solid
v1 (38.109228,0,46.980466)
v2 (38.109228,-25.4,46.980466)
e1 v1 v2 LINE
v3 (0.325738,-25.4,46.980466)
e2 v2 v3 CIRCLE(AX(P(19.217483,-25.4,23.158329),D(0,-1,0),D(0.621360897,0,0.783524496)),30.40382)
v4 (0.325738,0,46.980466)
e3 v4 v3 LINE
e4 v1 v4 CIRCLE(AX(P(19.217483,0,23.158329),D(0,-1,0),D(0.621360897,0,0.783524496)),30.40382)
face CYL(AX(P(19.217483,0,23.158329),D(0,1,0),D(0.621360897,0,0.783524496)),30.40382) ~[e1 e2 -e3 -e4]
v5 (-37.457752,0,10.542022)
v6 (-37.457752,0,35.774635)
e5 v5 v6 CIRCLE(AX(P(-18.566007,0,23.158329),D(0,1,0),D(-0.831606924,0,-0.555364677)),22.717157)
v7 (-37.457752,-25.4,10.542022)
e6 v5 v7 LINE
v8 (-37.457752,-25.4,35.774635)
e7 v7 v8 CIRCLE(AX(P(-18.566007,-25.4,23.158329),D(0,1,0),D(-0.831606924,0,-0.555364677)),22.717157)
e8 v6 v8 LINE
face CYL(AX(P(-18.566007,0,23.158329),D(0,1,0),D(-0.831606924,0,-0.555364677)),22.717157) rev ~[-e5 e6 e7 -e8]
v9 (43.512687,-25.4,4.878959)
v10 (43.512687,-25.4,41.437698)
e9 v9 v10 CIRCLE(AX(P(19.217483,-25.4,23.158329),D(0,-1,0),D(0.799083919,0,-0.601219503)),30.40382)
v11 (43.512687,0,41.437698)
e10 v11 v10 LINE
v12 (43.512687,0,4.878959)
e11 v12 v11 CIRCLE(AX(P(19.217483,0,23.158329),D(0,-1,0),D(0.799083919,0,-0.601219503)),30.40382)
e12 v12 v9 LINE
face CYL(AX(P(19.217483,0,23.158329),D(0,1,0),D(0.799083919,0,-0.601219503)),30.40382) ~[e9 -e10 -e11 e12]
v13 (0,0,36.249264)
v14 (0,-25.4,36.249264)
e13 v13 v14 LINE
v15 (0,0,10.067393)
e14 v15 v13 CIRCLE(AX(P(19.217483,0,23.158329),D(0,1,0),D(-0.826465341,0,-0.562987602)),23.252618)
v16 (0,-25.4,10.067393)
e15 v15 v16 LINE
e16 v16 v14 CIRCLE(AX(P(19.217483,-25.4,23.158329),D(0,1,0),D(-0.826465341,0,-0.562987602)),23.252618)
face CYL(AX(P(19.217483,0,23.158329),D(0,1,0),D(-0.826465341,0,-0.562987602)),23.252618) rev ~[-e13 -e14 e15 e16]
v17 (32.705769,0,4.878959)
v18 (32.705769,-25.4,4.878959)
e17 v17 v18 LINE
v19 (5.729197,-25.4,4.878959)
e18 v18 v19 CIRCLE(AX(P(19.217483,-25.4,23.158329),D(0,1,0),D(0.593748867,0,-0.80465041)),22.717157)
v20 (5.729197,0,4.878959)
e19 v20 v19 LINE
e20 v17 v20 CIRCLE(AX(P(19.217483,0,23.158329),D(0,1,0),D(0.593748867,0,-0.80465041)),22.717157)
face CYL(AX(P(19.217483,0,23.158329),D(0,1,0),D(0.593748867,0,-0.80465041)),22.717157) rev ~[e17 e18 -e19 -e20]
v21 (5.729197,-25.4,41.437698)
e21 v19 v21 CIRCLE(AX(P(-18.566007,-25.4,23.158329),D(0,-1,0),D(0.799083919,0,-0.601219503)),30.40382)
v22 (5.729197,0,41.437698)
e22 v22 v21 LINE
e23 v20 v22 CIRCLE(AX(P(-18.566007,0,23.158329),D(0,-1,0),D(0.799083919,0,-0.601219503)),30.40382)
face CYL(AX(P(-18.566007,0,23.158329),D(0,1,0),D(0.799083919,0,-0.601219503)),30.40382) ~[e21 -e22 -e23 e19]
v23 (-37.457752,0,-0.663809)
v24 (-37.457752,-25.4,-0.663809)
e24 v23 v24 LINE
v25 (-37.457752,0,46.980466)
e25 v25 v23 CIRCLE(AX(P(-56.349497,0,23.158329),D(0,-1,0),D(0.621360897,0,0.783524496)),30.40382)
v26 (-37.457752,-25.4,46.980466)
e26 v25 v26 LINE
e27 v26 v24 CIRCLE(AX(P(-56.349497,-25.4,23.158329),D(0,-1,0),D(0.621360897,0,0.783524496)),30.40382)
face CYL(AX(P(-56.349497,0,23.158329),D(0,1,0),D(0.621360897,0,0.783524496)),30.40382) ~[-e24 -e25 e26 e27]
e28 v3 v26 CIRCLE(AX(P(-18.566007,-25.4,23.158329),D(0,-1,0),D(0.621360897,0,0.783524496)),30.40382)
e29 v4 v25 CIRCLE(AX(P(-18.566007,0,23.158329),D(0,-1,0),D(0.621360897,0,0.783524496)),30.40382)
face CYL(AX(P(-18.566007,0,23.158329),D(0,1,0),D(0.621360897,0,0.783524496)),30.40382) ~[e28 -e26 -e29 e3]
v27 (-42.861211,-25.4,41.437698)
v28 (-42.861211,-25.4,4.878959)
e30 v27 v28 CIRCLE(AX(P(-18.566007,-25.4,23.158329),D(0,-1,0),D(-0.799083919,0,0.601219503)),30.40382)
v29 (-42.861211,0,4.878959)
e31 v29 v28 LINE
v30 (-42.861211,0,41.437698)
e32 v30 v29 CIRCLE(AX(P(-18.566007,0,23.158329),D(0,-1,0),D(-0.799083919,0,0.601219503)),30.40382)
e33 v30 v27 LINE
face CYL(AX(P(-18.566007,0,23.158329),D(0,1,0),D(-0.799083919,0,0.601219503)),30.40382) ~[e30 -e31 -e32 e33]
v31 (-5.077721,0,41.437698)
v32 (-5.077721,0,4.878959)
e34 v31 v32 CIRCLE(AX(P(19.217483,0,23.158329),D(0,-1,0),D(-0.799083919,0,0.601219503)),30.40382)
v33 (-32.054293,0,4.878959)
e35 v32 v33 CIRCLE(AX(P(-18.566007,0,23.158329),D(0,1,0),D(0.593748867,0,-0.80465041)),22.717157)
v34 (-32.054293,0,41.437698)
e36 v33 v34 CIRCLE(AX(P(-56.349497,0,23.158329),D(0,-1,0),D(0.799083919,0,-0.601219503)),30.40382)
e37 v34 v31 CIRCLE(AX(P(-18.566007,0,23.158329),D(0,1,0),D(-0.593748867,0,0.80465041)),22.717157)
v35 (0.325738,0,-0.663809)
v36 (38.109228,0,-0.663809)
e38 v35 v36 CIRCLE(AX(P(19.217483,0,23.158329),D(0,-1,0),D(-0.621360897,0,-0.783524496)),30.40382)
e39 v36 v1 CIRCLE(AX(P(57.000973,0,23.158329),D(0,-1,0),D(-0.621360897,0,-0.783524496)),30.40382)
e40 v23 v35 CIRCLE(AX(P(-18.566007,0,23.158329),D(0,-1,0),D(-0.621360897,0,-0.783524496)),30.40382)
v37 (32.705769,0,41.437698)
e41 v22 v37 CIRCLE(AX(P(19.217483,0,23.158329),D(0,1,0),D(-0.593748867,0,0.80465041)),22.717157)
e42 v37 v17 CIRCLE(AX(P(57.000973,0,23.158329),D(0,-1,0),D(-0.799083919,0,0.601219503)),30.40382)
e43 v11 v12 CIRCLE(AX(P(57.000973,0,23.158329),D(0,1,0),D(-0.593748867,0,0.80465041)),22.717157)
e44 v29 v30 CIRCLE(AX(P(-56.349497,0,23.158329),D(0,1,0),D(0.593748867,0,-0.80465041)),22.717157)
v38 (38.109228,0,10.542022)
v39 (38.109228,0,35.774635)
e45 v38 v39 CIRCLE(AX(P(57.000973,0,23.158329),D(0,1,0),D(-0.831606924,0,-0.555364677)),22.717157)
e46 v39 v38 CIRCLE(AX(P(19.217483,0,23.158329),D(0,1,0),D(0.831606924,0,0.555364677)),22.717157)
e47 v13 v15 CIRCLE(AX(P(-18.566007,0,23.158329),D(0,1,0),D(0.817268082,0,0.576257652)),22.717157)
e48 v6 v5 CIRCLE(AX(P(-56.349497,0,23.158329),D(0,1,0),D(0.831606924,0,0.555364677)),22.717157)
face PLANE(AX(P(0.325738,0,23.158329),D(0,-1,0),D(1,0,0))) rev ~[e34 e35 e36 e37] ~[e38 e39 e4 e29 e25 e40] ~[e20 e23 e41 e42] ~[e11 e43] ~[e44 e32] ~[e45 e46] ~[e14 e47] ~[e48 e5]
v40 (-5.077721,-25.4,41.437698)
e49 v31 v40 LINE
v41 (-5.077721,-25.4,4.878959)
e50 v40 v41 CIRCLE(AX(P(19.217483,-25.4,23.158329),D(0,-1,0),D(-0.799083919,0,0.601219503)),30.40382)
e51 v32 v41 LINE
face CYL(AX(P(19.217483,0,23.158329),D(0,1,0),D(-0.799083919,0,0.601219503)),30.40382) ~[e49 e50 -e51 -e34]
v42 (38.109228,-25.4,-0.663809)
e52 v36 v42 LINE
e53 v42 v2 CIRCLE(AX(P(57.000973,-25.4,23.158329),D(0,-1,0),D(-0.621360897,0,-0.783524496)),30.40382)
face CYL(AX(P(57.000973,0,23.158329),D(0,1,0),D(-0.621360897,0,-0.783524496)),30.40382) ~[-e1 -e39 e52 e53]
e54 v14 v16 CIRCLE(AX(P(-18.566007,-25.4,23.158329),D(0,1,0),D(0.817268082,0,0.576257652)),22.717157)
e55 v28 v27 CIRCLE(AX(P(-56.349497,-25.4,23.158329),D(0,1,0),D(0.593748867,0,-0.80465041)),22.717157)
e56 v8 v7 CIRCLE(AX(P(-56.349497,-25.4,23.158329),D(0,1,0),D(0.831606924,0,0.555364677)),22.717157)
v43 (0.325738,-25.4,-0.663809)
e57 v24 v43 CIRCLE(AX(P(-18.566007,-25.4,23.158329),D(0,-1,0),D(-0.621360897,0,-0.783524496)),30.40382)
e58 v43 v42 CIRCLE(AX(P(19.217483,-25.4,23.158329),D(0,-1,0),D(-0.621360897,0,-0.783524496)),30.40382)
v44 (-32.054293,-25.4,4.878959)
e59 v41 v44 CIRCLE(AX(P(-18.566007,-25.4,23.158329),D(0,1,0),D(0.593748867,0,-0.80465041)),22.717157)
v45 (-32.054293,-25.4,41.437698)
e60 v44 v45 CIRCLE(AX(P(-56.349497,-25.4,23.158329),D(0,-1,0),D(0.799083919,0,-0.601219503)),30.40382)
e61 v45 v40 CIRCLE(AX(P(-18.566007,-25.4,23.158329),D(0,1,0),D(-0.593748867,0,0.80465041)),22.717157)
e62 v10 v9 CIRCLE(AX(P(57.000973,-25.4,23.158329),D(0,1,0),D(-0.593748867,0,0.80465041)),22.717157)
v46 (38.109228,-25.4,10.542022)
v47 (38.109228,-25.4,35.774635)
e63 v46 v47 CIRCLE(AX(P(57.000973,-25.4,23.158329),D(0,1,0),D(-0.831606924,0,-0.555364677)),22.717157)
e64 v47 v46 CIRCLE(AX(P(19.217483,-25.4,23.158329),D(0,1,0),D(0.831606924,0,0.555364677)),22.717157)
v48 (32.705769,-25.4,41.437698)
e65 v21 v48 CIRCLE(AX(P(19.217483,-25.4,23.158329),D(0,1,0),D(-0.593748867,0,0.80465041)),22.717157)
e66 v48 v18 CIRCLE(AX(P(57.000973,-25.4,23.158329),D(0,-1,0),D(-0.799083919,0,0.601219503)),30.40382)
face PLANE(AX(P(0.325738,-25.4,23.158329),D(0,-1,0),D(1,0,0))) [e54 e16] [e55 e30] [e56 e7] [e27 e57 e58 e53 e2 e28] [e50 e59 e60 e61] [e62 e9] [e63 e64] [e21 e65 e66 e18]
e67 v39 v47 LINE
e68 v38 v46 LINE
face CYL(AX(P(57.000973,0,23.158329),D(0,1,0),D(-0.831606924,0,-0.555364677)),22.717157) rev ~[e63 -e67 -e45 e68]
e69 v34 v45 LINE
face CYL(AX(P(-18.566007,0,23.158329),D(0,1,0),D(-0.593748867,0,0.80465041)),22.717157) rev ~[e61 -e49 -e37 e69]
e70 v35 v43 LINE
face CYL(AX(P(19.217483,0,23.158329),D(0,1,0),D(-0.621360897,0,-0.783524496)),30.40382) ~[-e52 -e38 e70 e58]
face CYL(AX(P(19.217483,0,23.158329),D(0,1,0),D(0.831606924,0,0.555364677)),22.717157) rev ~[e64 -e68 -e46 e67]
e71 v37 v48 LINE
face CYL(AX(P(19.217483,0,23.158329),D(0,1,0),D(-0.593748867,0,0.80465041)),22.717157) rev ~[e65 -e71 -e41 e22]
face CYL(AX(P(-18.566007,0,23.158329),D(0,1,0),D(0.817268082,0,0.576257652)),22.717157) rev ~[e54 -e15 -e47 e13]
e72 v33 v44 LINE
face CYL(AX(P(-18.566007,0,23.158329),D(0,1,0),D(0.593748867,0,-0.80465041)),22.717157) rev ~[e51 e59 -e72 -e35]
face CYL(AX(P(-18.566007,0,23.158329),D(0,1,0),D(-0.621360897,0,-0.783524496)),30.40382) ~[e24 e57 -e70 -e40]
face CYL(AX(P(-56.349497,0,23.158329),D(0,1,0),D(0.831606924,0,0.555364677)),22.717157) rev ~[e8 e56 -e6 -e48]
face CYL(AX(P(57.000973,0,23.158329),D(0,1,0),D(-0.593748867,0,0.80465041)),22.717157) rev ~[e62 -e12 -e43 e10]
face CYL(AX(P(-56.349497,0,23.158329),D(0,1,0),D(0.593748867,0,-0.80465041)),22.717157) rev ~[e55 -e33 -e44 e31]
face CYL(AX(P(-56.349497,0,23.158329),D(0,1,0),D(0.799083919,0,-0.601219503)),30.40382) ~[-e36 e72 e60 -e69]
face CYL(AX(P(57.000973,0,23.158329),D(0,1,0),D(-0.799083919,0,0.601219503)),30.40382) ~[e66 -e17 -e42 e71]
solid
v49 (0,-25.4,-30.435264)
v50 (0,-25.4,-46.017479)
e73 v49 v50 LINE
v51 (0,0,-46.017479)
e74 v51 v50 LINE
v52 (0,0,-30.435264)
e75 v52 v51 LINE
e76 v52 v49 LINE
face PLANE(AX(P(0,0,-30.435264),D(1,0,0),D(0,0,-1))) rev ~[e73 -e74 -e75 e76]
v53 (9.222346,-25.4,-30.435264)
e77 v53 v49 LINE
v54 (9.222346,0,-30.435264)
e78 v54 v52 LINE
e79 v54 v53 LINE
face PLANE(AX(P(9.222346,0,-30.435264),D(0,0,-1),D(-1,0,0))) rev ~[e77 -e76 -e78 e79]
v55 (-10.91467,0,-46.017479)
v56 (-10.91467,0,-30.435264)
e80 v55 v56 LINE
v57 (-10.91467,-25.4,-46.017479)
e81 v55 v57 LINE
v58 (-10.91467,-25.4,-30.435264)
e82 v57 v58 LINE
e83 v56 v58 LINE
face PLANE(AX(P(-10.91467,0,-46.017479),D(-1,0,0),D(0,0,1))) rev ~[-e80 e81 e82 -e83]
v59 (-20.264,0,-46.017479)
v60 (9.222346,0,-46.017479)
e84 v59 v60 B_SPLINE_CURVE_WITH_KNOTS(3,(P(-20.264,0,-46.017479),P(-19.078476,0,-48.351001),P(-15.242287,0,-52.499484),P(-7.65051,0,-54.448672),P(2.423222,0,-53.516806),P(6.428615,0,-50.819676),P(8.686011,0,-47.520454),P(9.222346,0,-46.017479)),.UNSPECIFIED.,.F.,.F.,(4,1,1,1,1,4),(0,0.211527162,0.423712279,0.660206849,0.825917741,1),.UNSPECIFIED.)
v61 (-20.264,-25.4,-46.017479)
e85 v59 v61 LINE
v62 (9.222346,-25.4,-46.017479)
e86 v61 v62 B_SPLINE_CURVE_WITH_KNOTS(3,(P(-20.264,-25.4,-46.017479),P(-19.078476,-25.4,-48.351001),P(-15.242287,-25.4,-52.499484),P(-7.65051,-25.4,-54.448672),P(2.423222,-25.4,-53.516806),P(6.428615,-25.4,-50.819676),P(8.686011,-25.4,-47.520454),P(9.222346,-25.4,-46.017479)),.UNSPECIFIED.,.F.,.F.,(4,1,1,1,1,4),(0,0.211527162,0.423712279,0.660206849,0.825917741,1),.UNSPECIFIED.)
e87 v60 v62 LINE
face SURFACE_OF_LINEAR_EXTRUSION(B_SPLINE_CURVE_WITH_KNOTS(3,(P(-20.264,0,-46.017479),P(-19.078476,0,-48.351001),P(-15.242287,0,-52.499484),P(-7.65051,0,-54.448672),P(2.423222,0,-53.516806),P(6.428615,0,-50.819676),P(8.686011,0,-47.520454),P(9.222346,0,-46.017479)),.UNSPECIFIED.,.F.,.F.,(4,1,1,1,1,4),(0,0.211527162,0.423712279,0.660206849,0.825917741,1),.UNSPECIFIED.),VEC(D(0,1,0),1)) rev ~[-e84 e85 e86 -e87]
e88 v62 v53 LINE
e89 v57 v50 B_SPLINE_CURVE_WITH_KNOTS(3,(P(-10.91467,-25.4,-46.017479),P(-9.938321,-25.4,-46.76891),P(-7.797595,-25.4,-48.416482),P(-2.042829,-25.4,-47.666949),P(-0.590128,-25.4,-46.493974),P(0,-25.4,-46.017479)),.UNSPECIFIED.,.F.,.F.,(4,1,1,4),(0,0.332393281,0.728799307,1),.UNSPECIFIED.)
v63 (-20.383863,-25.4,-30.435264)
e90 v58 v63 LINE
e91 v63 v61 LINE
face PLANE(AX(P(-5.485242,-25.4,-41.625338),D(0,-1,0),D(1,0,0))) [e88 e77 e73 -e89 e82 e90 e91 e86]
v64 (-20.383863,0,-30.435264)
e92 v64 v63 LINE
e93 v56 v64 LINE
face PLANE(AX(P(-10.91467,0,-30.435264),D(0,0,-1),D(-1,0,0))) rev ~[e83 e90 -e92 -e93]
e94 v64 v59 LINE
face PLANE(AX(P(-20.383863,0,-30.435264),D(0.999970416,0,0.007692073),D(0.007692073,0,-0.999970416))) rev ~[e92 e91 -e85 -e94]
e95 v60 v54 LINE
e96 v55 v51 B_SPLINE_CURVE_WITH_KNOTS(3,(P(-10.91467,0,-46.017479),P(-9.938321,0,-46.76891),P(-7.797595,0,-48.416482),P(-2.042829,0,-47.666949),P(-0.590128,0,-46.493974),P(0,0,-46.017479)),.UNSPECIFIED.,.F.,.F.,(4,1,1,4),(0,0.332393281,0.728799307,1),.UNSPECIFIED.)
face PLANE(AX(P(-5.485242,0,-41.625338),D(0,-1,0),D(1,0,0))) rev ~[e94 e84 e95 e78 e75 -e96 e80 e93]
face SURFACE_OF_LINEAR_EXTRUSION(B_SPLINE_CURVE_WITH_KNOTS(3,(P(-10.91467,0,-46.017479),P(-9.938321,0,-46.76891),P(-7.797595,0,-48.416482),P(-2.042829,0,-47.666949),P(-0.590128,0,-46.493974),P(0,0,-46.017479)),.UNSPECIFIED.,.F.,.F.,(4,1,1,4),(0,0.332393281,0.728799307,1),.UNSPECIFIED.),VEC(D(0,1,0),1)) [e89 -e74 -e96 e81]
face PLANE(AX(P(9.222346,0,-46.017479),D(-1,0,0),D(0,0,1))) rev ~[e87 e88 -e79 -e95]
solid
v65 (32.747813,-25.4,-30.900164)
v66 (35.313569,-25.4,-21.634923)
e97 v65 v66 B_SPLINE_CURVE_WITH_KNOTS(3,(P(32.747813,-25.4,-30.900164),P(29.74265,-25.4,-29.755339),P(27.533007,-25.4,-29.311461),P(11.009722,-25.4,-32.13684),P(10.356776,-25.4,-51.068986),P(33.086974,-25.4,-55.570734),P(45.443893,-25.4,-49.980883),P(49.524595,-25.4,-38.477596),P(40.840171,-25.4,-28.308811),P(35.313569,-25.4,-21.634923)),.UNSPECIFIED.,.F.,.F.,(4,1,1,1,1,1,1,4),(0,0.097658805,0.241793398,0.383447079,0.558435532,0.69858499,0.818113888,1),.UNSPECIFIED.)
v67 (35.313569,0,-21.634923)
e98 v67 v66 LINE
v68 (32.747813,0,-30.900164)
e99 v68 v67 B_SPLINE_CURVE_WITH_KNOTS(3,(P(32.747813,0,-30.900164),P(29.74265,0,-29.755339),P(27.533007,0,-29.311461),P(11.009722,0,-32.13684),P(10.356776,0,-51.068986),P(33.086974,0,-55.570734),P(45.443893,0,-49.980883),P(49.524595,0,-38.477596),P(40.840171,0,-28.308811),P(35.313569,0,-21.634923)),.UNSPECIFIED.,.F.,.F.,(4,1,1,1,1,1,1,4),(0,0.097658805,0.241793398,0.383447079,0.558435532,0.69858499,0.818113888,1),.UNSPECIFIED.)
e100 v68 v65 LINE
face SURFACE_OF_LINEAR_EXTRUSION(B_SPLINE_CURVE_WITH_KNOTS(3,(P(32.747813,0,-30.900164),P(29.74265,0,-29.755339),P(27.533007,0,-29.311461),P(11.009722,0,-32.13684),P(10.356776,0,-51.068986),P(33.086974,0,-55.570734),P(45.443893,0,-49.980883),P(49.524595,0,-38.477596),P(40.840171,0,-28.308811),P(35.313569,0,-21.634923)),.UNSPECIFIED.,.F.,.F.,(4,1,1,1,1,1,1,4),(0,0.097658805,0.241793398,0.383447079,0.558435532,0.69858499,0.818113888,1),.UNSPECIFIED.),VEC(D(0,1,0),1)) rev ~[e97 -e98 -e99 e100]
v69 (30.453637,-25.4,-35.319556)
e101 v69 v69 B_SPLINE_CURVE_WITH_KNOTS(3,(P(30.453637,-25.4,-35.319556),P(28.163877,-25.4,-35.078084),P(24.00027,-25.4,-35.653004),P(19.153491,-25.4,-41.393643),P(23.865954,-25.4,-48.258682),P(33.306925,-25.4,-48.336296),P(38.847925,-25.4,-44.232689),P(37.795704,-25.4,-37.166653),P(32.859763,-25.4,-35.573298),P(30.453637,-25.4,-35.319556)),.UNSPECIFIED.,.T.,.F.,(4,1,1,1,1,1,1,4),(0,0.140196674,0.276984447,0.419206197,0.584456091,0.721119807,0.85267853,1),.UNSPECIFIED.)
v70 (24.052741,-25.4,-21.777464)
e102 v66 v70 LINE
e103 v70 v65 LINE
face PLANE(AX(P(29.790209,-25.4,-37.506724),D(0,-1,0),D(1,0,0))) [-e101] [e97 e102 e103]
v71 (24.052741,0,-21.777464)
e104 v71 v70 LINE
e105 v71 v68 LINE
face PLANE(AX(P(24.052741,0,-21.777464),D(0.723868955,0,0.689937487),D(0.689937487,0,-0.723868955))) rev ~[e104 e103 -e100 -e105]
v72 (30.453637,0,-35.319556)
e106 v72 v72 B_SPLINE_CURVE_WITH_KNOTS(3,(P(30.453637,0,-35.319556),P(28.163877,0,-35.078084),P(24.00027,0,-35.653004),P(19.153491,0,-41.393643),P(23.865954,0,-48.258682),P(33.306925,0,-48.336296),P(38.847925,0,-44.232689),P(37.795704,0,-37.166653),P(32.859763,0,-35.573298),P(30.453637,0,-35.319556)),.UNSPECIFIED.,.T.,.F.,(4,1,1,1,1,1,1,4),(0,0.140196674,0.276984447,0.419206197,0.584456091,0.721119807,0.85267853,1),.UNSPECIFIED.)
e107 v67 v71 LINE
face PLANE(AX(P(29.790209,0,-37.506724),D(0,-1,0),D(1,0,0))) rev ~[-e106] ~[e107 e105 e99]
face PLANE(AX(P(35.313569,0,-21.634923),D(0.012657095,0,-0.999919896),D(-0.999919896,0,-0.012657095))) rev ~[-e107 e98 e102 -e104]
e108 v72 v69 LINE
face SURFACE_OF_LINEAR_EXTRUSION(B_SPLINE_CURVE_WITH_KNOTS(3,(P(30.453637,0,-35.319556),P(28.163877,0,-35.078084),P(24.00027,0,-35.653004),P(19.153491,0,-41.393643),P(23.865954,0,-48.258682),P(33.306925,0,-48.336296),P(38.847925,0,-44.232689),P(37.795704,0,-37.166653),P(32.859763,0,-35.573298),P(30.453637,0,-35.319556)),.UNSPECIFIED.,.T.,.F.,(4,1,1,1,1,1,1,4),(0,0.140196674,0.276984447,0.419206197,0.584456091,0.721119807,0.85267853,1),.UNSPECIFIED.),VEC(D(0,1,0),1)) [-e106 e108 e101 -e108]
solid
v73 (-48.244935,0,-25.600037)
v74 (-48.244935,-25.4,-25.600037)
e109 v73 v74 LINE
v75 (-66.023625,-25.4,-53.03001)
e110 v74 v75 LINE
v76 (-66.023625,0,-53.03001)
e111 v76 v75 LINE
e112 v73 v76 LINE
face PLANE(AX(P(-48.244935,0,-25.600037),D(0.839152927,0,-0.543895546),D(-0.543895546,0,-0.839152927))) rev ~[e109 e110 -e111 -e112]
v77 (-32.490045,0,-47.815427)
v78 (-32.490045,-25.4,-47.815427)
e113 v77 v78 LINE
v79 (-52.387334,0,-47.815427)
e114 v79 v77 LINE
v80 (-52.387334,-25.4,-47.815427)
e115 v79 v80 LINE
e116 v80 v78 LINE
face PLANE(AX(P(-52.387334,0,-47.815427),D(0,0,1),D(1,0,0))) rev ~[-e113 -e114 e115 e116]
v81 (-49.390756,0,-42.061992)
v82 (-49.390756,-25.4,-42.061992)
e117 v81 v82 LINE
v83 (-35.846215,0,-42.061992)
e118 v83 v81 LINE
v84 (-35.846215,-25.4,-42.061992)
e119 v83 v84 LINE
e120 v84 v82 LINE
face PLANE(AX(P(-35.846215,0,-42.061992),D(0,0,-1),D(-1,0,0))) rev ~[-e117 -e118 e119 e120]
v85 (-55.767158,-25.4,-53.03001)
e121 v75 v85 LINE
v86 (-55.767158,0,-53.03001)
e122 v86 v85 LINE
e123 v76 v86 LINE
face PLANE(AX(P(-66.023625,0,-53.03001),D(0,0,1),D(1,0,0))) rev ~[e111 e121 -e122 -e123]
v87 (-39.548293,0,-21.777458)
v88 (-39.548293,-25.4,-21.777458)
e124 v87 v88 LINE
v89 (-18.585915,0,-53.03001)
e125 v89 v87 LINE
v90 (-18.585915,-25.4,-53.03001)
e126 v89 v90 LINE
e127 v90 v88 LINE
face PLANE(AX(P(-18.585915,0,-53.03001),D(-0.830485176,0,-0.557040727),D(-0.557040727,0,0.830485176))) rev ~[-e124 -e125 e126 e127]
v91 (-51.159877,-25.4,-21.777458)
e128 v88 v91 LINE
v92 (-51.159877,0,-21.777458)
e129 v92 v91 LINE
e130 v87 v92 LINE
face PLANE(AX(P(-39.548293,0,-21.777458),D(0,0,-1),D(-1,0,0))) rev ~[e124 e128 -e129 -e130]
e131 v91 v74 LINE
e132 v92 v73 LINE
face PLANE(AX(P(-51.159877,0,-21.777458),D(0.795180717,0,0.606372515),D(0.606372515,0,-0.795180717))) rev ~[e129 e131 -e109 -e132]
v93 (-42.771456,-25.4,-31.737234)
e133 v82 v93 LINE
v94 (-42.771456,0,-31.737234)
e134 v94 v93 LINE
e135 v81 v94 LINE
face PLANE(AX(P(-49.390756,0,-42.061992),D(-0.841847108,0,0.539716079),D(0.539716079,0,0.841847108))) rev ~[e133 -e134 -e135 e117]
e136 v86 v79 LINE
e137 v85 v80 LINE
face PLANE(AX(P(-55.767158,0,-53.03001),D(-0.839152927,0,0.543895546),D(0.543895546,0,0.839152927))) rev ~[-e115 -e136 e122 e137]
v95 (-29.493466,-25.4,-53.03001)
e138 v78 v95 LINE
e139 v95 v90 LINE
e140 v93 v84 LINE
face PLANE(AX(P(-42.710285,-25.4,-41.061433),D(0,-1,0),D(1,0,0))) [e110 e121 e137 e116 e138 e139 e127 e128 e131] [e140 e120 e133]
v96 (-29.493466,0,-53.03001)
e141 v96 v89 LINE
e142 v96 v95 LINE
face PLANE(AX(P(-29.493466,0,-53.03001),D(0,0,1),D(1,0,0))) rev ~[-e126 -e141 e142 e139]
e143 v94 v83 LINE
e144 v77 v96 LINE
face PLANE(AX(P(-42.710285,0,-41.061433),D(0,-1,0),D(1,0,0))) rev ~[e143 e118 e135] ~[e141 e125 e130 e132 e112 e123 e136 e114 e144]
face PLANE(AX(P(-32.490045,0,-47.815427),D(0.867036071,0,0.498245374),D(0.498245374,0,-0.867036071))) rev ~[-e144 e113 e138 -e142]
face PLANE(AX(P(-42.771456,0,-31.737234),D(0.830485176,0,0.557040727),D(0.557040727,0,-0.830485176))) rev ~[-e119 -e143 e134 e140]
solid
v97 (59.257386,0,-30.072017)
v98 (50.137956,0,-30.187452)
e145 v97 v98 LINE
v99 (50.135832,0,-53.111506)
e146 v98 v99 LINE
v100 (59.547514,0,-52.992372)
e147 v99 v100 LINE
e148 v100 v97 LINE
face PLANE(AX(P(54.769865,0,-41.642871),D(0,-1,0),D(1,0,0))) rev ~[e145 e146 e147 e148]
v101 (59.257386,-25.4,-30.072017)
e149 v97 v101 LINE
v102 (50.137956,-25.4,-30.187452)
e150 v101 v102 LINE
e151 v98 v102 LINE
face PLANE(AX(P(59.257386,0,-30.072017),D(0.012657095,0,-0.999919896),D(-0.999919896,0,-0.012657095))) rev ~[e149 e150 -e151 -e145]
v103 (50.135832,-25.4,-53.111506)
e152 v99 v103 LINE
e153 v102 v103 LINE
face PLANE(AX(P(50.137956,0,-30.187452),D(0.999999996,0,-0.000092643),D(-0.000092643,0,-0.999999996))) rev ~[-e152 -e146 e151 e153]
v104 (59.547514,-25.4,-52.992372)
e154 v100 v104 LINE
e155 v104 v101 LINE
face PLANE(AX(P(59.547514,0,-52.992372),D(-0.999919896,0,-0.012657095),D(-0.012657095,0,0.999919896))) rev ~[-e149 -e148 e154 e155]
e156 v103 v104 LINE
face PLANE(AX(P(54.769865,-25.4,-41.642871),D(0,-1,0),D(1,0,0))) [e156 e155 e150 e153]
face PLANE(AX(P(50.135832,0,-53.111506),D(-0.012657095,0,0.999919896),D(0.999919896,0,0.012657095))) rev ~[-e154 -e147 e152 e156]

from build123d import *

# Parameters (mm, degrees)
F1_DEPTH = 25.4


with BuildPart() as f1:
    # F0 (on Front) → F1 (new body)
    with BuildSketch(Plane.XZ):
        with BuildLine():
            ThreePointArc((0.3257377115, 46.9804664932), (-18.5660072885, 53.5621488049), (-37.4577522885, 46.9804664932))
            ThreePointArc((-37.4577522885, 46.9804664932), (-86.7533174857, 23.1583286077), (-37.4577522885, -0.6638092779))
            ThreePointArc((-37.4577522885, -0.6638092779), (-18.5660072885, -7.2454915895), (0.3257377115, -0.6638092779))
            ThreePointArc((0.3257377115, -0.6638092779), (19.2174827115, -7.2454915895), (38.1092277115, -0.6638092779))
            ThreePointArc((38.1092277115, -0.6638092779), (87.4047929087, 23.1583286077), (38.1092277115, 46.9804664932))
            ThreePointArc((38.1092277115, 46.9804664932), (19.2174827115, 53.5621488049), (0.3257377115, 46.9804664932))
        make_face()
        with BuildLine():
            ThreePointArc((-42.8612110868, 4.8789589528), (-79.0666542328, 23.1583286077), (-42.8612110868, 41.4376982625))
            ThreePointArc((-42.8612110868, 41.4376982625), (-48.9698274857, 23.1583286077), (-42.8612110868, 4.8789589528))
        make_face(mode=Mode.SUBTRACT)
        with BuildLine():
            ThreePointArc((-37.4577522885, 10.5420220764), (-41.2831642328, 23.1583286077), (-37.4577522885, 35.7746351389))
            ThreePointArc((-37.4577522885, 35.7746351389), (-33.6323403441, 23.1583286077), (-37.4577522885, 10.5420220764))
        make_face(mode=Mode.SUBTRACT)
        with BuildLine():
            ThreePointArc((-32.0542934901, 41.4376982625), (-18.5660072885, 45.875485552), (-5.0777210868, 41.4376982625))
            ThreePointArc((-5.0777210868, 41.4376982625), (-11.1863374857, 23.1583286077), (-5.0777210868, 4.8789589528))
            ThreePointArc((-5.0777210868, 4.8789589528), (-18.5660072885, 0.4411716633), (-32.0542934901, 4.8789589528))
            ThreePointArc((-32.0542934901, 4.8789589528), (-25.9456770913, 23.1583286077), (-32.0542934901, 41.4376982625))
        make_face(mode=Mode.SUBTRACT)
        with BuildLine():
            ThreePointArc((0, 36.2492641357), (4.1511496559, 23.1583286077), (0, 10.0673930796))
            ThreePointArc((0, 10.0673930796), (-4.0351350931, 23.1583286077), (0, 36.2492641357))
        make_face(mode=Mode.SUBTRACT)
        with BuildLine():
            ThreePointArc((5.7291965099, 41.4376982625), (19.2174827115, 45.875485552), (32.7057689132, 41.4376982625))
            ThreePointArc((32.7057689132, 41.4376982625), (26.5971525143, 23.1583286077), (32.7057689132, 4.8789589528))
            ThreePointArc((32.7057689132, 4.8789589528), (19.2174827115, 0.4411716633), (5.7291965099, 4.8789589528))
            ThreePointArc((5.7291965099, 4.8789589528), (11.8378129087, 23.1583286077), (5.7291965099, 41.4376982625))
        make_face(mode=Mode.SUBTRACT)
        with BuildLine():
            ThreePointArc((38.1092277115, 10.5420220764), (34.2838157672, 23.1583286077), (38.1092277115, 35.7746351389))
            ThreePointArc((38.1092277115, 35.7746351389), (41.9346396559, 23.1583286077), (38.1092277115, 10.5420220764))
        make_face(mode=Mode.SUBTRACT)
        with BuildLine():
            ThreePointArc((43.5126865099, 41.4376982625), (79.7181296559, 23.1583286077), (43.5126865099, 4.8789589528))
            ThreePointArc((43.5126865099, 4.8789589528), (49.6213029087, 23.1583286077), (43.5126865099, 41.4376982625))
        make_face(mode=Mode.SUBTRACT)
    extrude(amount=F1_DEPTH)


with BuildPart() as f1b:
    # F0 (on Front) → F1, piece 2 (new body)
    with BuildSketch(Plane.XZ):
        Polygon((-48.2449345291, -25.6000366062), (-66.0236254334, -53.0300103128), (-55.7671576112, -53.0300103128), (-52.3873344064, -47.8154271841), (-32.4900448322, -47.8154271841), (-29.4934660196, -53.0300103128), (-18.5859147459, -53.0300103128), (-39.5482927561, -21.7774584889), (-51.1598773301, -21.7774584889), align=None)
        Polygon((-35.8462147415, -42.0619919896), (-49.3907555938, -42.0619919896), (-42.7714564835, -31.7372341625), align=None, mode=Mode.SUBTRACT)
    extrude(amount=F1_DEPTH)


with BuildPart() as f1c:
    # F0 (on Front) → F1, piece 3 (new body)
    with BuildSketch(Plane.XZ):
        with BuildLine():
            Line((-10.9146703035, -30.4352641106), (-20.3838627785, -30.4352641106))
            Line((-20.3838627785, -30.4352641106), (-20.2639997005, -46.0174791515))
            add(Edge.make_bspline(
                [(-20.2639997005, -46.0174791515), (-19.078476388, -48.3510011859), (-15.2422867149, -52.4994844607), (-7.6505096386, -54.4486724465), (2.4232218284, -53.5168061714), (6.4286154935, -50.8196755354), (8.6860112316, -47.5204543574), (9.222346358, -46.0174791515)],
                knots=[0, 0, 0, 0, 0.2115271615, 0.4237122791, 0.6602068488, 0.825917741, 1, 1, 1, 1], degree=3))
            Line((9.222346358, -46.0174791515), (9.222346358, -30.4352641106))
            Line((9.222346358, -30.4352641106), (0, -30.4352641106))
            Line((0, -30.4352641106), (0, -46.0174791515))
            add(Edge.make_bspline(
                [(-10.9146703035, -46.0174791515), (-9.9383207167, -46.7689096849), (-7.7975948287, -48.4164822528), (-2.0428292679, -47.6669488752), (-0.5901281845, -46.4939744655), (0, -46.0174791515)],
                knots=[0, 0, 0, 0, 0.3323932812, 0.7287993067, 1, 1, 1, 1], degree=3))
            Line((-10.9146703035, -46.0174791515), (-10.9146703035, -30.4352641106))
        make_face()
    extrude(amount=F1_DEPTH)


with BuildPart() as f1d:
    # F0 (on Front) → F1, piece 4 (new body)
    with BuildSketch(Plane.XZ):
        with BuildLine():
            Line((24.052741006, -21.7774640769), (32.7478125691, -30.900163576))
            add(Edge.make_bspline(
                [(32.7478125691, -30.900163576), (29.7426497286, -29.7553391025), (27.5330072276, -29.3114611204), (11.0097216276, -32.1368400019), (10.3567760076, -51.0689860547), (33.0869741502, -55.5707344255), (45.4438933537, -49.9808832635), (49.5245949416, -38.4775955078), (40.8401708539, -28.3088108065), (35.3135690093, -21.6349232942)],
                knots=[0, 0, 0, 0, 0.0976588054, 0.2417933981, 0.3834470786, 0.5584355319, 0.6985849896, 0.8181138879, 1, 1, 1, 1], degree=3))
            Line((35.3135690093, -21.6349232942), (24.052741006, -21.7774640769))
        make_face()
        with BuildLine():
            add(Edge.make_bspline(
                [(30.4536372423, -35.3195555508), (28.1638773212, -35.0780844827), (24.0002699023, -35.6530041008), (19.1534906663, -41.3936427557), (23.8659539627, -48.2586824853), (33.3069252679, -48.3362956842), (38.8479249763, -44.2326893943), (37.7957037247, -37.1666525845), (32.8597627783, -35.5732981803), (30.4536372423, -35.3195555508)],
                knots=[0, 0, 0, 0, 0.1401966738, 0.2769844468, 0.419206197, 0.5844560915, 0.7211198069, 0.8526785303, 1, 1, 1, 1], degree=3))
        make_face(mode=Mode.SUBTRACT)
    extrude(amount=F1_DEPTH)


with BuildPart() as f1e:
    # F0 (on Front) → F1, piece 5 (new body)
    with BuildSketch(Plane.XZ):
        Polygon((59.2573859635, -30.0720174742), (50.1379556954, -30.187452212), (50.1358319434, -53.1115063966), (59.5475143018, -52.9923723001), align=None)
    extrude(amount=F1_DEPTH)


solid = Compound([f1.part, f1b.part, f1c.part, f1d.part, f1e.part])
